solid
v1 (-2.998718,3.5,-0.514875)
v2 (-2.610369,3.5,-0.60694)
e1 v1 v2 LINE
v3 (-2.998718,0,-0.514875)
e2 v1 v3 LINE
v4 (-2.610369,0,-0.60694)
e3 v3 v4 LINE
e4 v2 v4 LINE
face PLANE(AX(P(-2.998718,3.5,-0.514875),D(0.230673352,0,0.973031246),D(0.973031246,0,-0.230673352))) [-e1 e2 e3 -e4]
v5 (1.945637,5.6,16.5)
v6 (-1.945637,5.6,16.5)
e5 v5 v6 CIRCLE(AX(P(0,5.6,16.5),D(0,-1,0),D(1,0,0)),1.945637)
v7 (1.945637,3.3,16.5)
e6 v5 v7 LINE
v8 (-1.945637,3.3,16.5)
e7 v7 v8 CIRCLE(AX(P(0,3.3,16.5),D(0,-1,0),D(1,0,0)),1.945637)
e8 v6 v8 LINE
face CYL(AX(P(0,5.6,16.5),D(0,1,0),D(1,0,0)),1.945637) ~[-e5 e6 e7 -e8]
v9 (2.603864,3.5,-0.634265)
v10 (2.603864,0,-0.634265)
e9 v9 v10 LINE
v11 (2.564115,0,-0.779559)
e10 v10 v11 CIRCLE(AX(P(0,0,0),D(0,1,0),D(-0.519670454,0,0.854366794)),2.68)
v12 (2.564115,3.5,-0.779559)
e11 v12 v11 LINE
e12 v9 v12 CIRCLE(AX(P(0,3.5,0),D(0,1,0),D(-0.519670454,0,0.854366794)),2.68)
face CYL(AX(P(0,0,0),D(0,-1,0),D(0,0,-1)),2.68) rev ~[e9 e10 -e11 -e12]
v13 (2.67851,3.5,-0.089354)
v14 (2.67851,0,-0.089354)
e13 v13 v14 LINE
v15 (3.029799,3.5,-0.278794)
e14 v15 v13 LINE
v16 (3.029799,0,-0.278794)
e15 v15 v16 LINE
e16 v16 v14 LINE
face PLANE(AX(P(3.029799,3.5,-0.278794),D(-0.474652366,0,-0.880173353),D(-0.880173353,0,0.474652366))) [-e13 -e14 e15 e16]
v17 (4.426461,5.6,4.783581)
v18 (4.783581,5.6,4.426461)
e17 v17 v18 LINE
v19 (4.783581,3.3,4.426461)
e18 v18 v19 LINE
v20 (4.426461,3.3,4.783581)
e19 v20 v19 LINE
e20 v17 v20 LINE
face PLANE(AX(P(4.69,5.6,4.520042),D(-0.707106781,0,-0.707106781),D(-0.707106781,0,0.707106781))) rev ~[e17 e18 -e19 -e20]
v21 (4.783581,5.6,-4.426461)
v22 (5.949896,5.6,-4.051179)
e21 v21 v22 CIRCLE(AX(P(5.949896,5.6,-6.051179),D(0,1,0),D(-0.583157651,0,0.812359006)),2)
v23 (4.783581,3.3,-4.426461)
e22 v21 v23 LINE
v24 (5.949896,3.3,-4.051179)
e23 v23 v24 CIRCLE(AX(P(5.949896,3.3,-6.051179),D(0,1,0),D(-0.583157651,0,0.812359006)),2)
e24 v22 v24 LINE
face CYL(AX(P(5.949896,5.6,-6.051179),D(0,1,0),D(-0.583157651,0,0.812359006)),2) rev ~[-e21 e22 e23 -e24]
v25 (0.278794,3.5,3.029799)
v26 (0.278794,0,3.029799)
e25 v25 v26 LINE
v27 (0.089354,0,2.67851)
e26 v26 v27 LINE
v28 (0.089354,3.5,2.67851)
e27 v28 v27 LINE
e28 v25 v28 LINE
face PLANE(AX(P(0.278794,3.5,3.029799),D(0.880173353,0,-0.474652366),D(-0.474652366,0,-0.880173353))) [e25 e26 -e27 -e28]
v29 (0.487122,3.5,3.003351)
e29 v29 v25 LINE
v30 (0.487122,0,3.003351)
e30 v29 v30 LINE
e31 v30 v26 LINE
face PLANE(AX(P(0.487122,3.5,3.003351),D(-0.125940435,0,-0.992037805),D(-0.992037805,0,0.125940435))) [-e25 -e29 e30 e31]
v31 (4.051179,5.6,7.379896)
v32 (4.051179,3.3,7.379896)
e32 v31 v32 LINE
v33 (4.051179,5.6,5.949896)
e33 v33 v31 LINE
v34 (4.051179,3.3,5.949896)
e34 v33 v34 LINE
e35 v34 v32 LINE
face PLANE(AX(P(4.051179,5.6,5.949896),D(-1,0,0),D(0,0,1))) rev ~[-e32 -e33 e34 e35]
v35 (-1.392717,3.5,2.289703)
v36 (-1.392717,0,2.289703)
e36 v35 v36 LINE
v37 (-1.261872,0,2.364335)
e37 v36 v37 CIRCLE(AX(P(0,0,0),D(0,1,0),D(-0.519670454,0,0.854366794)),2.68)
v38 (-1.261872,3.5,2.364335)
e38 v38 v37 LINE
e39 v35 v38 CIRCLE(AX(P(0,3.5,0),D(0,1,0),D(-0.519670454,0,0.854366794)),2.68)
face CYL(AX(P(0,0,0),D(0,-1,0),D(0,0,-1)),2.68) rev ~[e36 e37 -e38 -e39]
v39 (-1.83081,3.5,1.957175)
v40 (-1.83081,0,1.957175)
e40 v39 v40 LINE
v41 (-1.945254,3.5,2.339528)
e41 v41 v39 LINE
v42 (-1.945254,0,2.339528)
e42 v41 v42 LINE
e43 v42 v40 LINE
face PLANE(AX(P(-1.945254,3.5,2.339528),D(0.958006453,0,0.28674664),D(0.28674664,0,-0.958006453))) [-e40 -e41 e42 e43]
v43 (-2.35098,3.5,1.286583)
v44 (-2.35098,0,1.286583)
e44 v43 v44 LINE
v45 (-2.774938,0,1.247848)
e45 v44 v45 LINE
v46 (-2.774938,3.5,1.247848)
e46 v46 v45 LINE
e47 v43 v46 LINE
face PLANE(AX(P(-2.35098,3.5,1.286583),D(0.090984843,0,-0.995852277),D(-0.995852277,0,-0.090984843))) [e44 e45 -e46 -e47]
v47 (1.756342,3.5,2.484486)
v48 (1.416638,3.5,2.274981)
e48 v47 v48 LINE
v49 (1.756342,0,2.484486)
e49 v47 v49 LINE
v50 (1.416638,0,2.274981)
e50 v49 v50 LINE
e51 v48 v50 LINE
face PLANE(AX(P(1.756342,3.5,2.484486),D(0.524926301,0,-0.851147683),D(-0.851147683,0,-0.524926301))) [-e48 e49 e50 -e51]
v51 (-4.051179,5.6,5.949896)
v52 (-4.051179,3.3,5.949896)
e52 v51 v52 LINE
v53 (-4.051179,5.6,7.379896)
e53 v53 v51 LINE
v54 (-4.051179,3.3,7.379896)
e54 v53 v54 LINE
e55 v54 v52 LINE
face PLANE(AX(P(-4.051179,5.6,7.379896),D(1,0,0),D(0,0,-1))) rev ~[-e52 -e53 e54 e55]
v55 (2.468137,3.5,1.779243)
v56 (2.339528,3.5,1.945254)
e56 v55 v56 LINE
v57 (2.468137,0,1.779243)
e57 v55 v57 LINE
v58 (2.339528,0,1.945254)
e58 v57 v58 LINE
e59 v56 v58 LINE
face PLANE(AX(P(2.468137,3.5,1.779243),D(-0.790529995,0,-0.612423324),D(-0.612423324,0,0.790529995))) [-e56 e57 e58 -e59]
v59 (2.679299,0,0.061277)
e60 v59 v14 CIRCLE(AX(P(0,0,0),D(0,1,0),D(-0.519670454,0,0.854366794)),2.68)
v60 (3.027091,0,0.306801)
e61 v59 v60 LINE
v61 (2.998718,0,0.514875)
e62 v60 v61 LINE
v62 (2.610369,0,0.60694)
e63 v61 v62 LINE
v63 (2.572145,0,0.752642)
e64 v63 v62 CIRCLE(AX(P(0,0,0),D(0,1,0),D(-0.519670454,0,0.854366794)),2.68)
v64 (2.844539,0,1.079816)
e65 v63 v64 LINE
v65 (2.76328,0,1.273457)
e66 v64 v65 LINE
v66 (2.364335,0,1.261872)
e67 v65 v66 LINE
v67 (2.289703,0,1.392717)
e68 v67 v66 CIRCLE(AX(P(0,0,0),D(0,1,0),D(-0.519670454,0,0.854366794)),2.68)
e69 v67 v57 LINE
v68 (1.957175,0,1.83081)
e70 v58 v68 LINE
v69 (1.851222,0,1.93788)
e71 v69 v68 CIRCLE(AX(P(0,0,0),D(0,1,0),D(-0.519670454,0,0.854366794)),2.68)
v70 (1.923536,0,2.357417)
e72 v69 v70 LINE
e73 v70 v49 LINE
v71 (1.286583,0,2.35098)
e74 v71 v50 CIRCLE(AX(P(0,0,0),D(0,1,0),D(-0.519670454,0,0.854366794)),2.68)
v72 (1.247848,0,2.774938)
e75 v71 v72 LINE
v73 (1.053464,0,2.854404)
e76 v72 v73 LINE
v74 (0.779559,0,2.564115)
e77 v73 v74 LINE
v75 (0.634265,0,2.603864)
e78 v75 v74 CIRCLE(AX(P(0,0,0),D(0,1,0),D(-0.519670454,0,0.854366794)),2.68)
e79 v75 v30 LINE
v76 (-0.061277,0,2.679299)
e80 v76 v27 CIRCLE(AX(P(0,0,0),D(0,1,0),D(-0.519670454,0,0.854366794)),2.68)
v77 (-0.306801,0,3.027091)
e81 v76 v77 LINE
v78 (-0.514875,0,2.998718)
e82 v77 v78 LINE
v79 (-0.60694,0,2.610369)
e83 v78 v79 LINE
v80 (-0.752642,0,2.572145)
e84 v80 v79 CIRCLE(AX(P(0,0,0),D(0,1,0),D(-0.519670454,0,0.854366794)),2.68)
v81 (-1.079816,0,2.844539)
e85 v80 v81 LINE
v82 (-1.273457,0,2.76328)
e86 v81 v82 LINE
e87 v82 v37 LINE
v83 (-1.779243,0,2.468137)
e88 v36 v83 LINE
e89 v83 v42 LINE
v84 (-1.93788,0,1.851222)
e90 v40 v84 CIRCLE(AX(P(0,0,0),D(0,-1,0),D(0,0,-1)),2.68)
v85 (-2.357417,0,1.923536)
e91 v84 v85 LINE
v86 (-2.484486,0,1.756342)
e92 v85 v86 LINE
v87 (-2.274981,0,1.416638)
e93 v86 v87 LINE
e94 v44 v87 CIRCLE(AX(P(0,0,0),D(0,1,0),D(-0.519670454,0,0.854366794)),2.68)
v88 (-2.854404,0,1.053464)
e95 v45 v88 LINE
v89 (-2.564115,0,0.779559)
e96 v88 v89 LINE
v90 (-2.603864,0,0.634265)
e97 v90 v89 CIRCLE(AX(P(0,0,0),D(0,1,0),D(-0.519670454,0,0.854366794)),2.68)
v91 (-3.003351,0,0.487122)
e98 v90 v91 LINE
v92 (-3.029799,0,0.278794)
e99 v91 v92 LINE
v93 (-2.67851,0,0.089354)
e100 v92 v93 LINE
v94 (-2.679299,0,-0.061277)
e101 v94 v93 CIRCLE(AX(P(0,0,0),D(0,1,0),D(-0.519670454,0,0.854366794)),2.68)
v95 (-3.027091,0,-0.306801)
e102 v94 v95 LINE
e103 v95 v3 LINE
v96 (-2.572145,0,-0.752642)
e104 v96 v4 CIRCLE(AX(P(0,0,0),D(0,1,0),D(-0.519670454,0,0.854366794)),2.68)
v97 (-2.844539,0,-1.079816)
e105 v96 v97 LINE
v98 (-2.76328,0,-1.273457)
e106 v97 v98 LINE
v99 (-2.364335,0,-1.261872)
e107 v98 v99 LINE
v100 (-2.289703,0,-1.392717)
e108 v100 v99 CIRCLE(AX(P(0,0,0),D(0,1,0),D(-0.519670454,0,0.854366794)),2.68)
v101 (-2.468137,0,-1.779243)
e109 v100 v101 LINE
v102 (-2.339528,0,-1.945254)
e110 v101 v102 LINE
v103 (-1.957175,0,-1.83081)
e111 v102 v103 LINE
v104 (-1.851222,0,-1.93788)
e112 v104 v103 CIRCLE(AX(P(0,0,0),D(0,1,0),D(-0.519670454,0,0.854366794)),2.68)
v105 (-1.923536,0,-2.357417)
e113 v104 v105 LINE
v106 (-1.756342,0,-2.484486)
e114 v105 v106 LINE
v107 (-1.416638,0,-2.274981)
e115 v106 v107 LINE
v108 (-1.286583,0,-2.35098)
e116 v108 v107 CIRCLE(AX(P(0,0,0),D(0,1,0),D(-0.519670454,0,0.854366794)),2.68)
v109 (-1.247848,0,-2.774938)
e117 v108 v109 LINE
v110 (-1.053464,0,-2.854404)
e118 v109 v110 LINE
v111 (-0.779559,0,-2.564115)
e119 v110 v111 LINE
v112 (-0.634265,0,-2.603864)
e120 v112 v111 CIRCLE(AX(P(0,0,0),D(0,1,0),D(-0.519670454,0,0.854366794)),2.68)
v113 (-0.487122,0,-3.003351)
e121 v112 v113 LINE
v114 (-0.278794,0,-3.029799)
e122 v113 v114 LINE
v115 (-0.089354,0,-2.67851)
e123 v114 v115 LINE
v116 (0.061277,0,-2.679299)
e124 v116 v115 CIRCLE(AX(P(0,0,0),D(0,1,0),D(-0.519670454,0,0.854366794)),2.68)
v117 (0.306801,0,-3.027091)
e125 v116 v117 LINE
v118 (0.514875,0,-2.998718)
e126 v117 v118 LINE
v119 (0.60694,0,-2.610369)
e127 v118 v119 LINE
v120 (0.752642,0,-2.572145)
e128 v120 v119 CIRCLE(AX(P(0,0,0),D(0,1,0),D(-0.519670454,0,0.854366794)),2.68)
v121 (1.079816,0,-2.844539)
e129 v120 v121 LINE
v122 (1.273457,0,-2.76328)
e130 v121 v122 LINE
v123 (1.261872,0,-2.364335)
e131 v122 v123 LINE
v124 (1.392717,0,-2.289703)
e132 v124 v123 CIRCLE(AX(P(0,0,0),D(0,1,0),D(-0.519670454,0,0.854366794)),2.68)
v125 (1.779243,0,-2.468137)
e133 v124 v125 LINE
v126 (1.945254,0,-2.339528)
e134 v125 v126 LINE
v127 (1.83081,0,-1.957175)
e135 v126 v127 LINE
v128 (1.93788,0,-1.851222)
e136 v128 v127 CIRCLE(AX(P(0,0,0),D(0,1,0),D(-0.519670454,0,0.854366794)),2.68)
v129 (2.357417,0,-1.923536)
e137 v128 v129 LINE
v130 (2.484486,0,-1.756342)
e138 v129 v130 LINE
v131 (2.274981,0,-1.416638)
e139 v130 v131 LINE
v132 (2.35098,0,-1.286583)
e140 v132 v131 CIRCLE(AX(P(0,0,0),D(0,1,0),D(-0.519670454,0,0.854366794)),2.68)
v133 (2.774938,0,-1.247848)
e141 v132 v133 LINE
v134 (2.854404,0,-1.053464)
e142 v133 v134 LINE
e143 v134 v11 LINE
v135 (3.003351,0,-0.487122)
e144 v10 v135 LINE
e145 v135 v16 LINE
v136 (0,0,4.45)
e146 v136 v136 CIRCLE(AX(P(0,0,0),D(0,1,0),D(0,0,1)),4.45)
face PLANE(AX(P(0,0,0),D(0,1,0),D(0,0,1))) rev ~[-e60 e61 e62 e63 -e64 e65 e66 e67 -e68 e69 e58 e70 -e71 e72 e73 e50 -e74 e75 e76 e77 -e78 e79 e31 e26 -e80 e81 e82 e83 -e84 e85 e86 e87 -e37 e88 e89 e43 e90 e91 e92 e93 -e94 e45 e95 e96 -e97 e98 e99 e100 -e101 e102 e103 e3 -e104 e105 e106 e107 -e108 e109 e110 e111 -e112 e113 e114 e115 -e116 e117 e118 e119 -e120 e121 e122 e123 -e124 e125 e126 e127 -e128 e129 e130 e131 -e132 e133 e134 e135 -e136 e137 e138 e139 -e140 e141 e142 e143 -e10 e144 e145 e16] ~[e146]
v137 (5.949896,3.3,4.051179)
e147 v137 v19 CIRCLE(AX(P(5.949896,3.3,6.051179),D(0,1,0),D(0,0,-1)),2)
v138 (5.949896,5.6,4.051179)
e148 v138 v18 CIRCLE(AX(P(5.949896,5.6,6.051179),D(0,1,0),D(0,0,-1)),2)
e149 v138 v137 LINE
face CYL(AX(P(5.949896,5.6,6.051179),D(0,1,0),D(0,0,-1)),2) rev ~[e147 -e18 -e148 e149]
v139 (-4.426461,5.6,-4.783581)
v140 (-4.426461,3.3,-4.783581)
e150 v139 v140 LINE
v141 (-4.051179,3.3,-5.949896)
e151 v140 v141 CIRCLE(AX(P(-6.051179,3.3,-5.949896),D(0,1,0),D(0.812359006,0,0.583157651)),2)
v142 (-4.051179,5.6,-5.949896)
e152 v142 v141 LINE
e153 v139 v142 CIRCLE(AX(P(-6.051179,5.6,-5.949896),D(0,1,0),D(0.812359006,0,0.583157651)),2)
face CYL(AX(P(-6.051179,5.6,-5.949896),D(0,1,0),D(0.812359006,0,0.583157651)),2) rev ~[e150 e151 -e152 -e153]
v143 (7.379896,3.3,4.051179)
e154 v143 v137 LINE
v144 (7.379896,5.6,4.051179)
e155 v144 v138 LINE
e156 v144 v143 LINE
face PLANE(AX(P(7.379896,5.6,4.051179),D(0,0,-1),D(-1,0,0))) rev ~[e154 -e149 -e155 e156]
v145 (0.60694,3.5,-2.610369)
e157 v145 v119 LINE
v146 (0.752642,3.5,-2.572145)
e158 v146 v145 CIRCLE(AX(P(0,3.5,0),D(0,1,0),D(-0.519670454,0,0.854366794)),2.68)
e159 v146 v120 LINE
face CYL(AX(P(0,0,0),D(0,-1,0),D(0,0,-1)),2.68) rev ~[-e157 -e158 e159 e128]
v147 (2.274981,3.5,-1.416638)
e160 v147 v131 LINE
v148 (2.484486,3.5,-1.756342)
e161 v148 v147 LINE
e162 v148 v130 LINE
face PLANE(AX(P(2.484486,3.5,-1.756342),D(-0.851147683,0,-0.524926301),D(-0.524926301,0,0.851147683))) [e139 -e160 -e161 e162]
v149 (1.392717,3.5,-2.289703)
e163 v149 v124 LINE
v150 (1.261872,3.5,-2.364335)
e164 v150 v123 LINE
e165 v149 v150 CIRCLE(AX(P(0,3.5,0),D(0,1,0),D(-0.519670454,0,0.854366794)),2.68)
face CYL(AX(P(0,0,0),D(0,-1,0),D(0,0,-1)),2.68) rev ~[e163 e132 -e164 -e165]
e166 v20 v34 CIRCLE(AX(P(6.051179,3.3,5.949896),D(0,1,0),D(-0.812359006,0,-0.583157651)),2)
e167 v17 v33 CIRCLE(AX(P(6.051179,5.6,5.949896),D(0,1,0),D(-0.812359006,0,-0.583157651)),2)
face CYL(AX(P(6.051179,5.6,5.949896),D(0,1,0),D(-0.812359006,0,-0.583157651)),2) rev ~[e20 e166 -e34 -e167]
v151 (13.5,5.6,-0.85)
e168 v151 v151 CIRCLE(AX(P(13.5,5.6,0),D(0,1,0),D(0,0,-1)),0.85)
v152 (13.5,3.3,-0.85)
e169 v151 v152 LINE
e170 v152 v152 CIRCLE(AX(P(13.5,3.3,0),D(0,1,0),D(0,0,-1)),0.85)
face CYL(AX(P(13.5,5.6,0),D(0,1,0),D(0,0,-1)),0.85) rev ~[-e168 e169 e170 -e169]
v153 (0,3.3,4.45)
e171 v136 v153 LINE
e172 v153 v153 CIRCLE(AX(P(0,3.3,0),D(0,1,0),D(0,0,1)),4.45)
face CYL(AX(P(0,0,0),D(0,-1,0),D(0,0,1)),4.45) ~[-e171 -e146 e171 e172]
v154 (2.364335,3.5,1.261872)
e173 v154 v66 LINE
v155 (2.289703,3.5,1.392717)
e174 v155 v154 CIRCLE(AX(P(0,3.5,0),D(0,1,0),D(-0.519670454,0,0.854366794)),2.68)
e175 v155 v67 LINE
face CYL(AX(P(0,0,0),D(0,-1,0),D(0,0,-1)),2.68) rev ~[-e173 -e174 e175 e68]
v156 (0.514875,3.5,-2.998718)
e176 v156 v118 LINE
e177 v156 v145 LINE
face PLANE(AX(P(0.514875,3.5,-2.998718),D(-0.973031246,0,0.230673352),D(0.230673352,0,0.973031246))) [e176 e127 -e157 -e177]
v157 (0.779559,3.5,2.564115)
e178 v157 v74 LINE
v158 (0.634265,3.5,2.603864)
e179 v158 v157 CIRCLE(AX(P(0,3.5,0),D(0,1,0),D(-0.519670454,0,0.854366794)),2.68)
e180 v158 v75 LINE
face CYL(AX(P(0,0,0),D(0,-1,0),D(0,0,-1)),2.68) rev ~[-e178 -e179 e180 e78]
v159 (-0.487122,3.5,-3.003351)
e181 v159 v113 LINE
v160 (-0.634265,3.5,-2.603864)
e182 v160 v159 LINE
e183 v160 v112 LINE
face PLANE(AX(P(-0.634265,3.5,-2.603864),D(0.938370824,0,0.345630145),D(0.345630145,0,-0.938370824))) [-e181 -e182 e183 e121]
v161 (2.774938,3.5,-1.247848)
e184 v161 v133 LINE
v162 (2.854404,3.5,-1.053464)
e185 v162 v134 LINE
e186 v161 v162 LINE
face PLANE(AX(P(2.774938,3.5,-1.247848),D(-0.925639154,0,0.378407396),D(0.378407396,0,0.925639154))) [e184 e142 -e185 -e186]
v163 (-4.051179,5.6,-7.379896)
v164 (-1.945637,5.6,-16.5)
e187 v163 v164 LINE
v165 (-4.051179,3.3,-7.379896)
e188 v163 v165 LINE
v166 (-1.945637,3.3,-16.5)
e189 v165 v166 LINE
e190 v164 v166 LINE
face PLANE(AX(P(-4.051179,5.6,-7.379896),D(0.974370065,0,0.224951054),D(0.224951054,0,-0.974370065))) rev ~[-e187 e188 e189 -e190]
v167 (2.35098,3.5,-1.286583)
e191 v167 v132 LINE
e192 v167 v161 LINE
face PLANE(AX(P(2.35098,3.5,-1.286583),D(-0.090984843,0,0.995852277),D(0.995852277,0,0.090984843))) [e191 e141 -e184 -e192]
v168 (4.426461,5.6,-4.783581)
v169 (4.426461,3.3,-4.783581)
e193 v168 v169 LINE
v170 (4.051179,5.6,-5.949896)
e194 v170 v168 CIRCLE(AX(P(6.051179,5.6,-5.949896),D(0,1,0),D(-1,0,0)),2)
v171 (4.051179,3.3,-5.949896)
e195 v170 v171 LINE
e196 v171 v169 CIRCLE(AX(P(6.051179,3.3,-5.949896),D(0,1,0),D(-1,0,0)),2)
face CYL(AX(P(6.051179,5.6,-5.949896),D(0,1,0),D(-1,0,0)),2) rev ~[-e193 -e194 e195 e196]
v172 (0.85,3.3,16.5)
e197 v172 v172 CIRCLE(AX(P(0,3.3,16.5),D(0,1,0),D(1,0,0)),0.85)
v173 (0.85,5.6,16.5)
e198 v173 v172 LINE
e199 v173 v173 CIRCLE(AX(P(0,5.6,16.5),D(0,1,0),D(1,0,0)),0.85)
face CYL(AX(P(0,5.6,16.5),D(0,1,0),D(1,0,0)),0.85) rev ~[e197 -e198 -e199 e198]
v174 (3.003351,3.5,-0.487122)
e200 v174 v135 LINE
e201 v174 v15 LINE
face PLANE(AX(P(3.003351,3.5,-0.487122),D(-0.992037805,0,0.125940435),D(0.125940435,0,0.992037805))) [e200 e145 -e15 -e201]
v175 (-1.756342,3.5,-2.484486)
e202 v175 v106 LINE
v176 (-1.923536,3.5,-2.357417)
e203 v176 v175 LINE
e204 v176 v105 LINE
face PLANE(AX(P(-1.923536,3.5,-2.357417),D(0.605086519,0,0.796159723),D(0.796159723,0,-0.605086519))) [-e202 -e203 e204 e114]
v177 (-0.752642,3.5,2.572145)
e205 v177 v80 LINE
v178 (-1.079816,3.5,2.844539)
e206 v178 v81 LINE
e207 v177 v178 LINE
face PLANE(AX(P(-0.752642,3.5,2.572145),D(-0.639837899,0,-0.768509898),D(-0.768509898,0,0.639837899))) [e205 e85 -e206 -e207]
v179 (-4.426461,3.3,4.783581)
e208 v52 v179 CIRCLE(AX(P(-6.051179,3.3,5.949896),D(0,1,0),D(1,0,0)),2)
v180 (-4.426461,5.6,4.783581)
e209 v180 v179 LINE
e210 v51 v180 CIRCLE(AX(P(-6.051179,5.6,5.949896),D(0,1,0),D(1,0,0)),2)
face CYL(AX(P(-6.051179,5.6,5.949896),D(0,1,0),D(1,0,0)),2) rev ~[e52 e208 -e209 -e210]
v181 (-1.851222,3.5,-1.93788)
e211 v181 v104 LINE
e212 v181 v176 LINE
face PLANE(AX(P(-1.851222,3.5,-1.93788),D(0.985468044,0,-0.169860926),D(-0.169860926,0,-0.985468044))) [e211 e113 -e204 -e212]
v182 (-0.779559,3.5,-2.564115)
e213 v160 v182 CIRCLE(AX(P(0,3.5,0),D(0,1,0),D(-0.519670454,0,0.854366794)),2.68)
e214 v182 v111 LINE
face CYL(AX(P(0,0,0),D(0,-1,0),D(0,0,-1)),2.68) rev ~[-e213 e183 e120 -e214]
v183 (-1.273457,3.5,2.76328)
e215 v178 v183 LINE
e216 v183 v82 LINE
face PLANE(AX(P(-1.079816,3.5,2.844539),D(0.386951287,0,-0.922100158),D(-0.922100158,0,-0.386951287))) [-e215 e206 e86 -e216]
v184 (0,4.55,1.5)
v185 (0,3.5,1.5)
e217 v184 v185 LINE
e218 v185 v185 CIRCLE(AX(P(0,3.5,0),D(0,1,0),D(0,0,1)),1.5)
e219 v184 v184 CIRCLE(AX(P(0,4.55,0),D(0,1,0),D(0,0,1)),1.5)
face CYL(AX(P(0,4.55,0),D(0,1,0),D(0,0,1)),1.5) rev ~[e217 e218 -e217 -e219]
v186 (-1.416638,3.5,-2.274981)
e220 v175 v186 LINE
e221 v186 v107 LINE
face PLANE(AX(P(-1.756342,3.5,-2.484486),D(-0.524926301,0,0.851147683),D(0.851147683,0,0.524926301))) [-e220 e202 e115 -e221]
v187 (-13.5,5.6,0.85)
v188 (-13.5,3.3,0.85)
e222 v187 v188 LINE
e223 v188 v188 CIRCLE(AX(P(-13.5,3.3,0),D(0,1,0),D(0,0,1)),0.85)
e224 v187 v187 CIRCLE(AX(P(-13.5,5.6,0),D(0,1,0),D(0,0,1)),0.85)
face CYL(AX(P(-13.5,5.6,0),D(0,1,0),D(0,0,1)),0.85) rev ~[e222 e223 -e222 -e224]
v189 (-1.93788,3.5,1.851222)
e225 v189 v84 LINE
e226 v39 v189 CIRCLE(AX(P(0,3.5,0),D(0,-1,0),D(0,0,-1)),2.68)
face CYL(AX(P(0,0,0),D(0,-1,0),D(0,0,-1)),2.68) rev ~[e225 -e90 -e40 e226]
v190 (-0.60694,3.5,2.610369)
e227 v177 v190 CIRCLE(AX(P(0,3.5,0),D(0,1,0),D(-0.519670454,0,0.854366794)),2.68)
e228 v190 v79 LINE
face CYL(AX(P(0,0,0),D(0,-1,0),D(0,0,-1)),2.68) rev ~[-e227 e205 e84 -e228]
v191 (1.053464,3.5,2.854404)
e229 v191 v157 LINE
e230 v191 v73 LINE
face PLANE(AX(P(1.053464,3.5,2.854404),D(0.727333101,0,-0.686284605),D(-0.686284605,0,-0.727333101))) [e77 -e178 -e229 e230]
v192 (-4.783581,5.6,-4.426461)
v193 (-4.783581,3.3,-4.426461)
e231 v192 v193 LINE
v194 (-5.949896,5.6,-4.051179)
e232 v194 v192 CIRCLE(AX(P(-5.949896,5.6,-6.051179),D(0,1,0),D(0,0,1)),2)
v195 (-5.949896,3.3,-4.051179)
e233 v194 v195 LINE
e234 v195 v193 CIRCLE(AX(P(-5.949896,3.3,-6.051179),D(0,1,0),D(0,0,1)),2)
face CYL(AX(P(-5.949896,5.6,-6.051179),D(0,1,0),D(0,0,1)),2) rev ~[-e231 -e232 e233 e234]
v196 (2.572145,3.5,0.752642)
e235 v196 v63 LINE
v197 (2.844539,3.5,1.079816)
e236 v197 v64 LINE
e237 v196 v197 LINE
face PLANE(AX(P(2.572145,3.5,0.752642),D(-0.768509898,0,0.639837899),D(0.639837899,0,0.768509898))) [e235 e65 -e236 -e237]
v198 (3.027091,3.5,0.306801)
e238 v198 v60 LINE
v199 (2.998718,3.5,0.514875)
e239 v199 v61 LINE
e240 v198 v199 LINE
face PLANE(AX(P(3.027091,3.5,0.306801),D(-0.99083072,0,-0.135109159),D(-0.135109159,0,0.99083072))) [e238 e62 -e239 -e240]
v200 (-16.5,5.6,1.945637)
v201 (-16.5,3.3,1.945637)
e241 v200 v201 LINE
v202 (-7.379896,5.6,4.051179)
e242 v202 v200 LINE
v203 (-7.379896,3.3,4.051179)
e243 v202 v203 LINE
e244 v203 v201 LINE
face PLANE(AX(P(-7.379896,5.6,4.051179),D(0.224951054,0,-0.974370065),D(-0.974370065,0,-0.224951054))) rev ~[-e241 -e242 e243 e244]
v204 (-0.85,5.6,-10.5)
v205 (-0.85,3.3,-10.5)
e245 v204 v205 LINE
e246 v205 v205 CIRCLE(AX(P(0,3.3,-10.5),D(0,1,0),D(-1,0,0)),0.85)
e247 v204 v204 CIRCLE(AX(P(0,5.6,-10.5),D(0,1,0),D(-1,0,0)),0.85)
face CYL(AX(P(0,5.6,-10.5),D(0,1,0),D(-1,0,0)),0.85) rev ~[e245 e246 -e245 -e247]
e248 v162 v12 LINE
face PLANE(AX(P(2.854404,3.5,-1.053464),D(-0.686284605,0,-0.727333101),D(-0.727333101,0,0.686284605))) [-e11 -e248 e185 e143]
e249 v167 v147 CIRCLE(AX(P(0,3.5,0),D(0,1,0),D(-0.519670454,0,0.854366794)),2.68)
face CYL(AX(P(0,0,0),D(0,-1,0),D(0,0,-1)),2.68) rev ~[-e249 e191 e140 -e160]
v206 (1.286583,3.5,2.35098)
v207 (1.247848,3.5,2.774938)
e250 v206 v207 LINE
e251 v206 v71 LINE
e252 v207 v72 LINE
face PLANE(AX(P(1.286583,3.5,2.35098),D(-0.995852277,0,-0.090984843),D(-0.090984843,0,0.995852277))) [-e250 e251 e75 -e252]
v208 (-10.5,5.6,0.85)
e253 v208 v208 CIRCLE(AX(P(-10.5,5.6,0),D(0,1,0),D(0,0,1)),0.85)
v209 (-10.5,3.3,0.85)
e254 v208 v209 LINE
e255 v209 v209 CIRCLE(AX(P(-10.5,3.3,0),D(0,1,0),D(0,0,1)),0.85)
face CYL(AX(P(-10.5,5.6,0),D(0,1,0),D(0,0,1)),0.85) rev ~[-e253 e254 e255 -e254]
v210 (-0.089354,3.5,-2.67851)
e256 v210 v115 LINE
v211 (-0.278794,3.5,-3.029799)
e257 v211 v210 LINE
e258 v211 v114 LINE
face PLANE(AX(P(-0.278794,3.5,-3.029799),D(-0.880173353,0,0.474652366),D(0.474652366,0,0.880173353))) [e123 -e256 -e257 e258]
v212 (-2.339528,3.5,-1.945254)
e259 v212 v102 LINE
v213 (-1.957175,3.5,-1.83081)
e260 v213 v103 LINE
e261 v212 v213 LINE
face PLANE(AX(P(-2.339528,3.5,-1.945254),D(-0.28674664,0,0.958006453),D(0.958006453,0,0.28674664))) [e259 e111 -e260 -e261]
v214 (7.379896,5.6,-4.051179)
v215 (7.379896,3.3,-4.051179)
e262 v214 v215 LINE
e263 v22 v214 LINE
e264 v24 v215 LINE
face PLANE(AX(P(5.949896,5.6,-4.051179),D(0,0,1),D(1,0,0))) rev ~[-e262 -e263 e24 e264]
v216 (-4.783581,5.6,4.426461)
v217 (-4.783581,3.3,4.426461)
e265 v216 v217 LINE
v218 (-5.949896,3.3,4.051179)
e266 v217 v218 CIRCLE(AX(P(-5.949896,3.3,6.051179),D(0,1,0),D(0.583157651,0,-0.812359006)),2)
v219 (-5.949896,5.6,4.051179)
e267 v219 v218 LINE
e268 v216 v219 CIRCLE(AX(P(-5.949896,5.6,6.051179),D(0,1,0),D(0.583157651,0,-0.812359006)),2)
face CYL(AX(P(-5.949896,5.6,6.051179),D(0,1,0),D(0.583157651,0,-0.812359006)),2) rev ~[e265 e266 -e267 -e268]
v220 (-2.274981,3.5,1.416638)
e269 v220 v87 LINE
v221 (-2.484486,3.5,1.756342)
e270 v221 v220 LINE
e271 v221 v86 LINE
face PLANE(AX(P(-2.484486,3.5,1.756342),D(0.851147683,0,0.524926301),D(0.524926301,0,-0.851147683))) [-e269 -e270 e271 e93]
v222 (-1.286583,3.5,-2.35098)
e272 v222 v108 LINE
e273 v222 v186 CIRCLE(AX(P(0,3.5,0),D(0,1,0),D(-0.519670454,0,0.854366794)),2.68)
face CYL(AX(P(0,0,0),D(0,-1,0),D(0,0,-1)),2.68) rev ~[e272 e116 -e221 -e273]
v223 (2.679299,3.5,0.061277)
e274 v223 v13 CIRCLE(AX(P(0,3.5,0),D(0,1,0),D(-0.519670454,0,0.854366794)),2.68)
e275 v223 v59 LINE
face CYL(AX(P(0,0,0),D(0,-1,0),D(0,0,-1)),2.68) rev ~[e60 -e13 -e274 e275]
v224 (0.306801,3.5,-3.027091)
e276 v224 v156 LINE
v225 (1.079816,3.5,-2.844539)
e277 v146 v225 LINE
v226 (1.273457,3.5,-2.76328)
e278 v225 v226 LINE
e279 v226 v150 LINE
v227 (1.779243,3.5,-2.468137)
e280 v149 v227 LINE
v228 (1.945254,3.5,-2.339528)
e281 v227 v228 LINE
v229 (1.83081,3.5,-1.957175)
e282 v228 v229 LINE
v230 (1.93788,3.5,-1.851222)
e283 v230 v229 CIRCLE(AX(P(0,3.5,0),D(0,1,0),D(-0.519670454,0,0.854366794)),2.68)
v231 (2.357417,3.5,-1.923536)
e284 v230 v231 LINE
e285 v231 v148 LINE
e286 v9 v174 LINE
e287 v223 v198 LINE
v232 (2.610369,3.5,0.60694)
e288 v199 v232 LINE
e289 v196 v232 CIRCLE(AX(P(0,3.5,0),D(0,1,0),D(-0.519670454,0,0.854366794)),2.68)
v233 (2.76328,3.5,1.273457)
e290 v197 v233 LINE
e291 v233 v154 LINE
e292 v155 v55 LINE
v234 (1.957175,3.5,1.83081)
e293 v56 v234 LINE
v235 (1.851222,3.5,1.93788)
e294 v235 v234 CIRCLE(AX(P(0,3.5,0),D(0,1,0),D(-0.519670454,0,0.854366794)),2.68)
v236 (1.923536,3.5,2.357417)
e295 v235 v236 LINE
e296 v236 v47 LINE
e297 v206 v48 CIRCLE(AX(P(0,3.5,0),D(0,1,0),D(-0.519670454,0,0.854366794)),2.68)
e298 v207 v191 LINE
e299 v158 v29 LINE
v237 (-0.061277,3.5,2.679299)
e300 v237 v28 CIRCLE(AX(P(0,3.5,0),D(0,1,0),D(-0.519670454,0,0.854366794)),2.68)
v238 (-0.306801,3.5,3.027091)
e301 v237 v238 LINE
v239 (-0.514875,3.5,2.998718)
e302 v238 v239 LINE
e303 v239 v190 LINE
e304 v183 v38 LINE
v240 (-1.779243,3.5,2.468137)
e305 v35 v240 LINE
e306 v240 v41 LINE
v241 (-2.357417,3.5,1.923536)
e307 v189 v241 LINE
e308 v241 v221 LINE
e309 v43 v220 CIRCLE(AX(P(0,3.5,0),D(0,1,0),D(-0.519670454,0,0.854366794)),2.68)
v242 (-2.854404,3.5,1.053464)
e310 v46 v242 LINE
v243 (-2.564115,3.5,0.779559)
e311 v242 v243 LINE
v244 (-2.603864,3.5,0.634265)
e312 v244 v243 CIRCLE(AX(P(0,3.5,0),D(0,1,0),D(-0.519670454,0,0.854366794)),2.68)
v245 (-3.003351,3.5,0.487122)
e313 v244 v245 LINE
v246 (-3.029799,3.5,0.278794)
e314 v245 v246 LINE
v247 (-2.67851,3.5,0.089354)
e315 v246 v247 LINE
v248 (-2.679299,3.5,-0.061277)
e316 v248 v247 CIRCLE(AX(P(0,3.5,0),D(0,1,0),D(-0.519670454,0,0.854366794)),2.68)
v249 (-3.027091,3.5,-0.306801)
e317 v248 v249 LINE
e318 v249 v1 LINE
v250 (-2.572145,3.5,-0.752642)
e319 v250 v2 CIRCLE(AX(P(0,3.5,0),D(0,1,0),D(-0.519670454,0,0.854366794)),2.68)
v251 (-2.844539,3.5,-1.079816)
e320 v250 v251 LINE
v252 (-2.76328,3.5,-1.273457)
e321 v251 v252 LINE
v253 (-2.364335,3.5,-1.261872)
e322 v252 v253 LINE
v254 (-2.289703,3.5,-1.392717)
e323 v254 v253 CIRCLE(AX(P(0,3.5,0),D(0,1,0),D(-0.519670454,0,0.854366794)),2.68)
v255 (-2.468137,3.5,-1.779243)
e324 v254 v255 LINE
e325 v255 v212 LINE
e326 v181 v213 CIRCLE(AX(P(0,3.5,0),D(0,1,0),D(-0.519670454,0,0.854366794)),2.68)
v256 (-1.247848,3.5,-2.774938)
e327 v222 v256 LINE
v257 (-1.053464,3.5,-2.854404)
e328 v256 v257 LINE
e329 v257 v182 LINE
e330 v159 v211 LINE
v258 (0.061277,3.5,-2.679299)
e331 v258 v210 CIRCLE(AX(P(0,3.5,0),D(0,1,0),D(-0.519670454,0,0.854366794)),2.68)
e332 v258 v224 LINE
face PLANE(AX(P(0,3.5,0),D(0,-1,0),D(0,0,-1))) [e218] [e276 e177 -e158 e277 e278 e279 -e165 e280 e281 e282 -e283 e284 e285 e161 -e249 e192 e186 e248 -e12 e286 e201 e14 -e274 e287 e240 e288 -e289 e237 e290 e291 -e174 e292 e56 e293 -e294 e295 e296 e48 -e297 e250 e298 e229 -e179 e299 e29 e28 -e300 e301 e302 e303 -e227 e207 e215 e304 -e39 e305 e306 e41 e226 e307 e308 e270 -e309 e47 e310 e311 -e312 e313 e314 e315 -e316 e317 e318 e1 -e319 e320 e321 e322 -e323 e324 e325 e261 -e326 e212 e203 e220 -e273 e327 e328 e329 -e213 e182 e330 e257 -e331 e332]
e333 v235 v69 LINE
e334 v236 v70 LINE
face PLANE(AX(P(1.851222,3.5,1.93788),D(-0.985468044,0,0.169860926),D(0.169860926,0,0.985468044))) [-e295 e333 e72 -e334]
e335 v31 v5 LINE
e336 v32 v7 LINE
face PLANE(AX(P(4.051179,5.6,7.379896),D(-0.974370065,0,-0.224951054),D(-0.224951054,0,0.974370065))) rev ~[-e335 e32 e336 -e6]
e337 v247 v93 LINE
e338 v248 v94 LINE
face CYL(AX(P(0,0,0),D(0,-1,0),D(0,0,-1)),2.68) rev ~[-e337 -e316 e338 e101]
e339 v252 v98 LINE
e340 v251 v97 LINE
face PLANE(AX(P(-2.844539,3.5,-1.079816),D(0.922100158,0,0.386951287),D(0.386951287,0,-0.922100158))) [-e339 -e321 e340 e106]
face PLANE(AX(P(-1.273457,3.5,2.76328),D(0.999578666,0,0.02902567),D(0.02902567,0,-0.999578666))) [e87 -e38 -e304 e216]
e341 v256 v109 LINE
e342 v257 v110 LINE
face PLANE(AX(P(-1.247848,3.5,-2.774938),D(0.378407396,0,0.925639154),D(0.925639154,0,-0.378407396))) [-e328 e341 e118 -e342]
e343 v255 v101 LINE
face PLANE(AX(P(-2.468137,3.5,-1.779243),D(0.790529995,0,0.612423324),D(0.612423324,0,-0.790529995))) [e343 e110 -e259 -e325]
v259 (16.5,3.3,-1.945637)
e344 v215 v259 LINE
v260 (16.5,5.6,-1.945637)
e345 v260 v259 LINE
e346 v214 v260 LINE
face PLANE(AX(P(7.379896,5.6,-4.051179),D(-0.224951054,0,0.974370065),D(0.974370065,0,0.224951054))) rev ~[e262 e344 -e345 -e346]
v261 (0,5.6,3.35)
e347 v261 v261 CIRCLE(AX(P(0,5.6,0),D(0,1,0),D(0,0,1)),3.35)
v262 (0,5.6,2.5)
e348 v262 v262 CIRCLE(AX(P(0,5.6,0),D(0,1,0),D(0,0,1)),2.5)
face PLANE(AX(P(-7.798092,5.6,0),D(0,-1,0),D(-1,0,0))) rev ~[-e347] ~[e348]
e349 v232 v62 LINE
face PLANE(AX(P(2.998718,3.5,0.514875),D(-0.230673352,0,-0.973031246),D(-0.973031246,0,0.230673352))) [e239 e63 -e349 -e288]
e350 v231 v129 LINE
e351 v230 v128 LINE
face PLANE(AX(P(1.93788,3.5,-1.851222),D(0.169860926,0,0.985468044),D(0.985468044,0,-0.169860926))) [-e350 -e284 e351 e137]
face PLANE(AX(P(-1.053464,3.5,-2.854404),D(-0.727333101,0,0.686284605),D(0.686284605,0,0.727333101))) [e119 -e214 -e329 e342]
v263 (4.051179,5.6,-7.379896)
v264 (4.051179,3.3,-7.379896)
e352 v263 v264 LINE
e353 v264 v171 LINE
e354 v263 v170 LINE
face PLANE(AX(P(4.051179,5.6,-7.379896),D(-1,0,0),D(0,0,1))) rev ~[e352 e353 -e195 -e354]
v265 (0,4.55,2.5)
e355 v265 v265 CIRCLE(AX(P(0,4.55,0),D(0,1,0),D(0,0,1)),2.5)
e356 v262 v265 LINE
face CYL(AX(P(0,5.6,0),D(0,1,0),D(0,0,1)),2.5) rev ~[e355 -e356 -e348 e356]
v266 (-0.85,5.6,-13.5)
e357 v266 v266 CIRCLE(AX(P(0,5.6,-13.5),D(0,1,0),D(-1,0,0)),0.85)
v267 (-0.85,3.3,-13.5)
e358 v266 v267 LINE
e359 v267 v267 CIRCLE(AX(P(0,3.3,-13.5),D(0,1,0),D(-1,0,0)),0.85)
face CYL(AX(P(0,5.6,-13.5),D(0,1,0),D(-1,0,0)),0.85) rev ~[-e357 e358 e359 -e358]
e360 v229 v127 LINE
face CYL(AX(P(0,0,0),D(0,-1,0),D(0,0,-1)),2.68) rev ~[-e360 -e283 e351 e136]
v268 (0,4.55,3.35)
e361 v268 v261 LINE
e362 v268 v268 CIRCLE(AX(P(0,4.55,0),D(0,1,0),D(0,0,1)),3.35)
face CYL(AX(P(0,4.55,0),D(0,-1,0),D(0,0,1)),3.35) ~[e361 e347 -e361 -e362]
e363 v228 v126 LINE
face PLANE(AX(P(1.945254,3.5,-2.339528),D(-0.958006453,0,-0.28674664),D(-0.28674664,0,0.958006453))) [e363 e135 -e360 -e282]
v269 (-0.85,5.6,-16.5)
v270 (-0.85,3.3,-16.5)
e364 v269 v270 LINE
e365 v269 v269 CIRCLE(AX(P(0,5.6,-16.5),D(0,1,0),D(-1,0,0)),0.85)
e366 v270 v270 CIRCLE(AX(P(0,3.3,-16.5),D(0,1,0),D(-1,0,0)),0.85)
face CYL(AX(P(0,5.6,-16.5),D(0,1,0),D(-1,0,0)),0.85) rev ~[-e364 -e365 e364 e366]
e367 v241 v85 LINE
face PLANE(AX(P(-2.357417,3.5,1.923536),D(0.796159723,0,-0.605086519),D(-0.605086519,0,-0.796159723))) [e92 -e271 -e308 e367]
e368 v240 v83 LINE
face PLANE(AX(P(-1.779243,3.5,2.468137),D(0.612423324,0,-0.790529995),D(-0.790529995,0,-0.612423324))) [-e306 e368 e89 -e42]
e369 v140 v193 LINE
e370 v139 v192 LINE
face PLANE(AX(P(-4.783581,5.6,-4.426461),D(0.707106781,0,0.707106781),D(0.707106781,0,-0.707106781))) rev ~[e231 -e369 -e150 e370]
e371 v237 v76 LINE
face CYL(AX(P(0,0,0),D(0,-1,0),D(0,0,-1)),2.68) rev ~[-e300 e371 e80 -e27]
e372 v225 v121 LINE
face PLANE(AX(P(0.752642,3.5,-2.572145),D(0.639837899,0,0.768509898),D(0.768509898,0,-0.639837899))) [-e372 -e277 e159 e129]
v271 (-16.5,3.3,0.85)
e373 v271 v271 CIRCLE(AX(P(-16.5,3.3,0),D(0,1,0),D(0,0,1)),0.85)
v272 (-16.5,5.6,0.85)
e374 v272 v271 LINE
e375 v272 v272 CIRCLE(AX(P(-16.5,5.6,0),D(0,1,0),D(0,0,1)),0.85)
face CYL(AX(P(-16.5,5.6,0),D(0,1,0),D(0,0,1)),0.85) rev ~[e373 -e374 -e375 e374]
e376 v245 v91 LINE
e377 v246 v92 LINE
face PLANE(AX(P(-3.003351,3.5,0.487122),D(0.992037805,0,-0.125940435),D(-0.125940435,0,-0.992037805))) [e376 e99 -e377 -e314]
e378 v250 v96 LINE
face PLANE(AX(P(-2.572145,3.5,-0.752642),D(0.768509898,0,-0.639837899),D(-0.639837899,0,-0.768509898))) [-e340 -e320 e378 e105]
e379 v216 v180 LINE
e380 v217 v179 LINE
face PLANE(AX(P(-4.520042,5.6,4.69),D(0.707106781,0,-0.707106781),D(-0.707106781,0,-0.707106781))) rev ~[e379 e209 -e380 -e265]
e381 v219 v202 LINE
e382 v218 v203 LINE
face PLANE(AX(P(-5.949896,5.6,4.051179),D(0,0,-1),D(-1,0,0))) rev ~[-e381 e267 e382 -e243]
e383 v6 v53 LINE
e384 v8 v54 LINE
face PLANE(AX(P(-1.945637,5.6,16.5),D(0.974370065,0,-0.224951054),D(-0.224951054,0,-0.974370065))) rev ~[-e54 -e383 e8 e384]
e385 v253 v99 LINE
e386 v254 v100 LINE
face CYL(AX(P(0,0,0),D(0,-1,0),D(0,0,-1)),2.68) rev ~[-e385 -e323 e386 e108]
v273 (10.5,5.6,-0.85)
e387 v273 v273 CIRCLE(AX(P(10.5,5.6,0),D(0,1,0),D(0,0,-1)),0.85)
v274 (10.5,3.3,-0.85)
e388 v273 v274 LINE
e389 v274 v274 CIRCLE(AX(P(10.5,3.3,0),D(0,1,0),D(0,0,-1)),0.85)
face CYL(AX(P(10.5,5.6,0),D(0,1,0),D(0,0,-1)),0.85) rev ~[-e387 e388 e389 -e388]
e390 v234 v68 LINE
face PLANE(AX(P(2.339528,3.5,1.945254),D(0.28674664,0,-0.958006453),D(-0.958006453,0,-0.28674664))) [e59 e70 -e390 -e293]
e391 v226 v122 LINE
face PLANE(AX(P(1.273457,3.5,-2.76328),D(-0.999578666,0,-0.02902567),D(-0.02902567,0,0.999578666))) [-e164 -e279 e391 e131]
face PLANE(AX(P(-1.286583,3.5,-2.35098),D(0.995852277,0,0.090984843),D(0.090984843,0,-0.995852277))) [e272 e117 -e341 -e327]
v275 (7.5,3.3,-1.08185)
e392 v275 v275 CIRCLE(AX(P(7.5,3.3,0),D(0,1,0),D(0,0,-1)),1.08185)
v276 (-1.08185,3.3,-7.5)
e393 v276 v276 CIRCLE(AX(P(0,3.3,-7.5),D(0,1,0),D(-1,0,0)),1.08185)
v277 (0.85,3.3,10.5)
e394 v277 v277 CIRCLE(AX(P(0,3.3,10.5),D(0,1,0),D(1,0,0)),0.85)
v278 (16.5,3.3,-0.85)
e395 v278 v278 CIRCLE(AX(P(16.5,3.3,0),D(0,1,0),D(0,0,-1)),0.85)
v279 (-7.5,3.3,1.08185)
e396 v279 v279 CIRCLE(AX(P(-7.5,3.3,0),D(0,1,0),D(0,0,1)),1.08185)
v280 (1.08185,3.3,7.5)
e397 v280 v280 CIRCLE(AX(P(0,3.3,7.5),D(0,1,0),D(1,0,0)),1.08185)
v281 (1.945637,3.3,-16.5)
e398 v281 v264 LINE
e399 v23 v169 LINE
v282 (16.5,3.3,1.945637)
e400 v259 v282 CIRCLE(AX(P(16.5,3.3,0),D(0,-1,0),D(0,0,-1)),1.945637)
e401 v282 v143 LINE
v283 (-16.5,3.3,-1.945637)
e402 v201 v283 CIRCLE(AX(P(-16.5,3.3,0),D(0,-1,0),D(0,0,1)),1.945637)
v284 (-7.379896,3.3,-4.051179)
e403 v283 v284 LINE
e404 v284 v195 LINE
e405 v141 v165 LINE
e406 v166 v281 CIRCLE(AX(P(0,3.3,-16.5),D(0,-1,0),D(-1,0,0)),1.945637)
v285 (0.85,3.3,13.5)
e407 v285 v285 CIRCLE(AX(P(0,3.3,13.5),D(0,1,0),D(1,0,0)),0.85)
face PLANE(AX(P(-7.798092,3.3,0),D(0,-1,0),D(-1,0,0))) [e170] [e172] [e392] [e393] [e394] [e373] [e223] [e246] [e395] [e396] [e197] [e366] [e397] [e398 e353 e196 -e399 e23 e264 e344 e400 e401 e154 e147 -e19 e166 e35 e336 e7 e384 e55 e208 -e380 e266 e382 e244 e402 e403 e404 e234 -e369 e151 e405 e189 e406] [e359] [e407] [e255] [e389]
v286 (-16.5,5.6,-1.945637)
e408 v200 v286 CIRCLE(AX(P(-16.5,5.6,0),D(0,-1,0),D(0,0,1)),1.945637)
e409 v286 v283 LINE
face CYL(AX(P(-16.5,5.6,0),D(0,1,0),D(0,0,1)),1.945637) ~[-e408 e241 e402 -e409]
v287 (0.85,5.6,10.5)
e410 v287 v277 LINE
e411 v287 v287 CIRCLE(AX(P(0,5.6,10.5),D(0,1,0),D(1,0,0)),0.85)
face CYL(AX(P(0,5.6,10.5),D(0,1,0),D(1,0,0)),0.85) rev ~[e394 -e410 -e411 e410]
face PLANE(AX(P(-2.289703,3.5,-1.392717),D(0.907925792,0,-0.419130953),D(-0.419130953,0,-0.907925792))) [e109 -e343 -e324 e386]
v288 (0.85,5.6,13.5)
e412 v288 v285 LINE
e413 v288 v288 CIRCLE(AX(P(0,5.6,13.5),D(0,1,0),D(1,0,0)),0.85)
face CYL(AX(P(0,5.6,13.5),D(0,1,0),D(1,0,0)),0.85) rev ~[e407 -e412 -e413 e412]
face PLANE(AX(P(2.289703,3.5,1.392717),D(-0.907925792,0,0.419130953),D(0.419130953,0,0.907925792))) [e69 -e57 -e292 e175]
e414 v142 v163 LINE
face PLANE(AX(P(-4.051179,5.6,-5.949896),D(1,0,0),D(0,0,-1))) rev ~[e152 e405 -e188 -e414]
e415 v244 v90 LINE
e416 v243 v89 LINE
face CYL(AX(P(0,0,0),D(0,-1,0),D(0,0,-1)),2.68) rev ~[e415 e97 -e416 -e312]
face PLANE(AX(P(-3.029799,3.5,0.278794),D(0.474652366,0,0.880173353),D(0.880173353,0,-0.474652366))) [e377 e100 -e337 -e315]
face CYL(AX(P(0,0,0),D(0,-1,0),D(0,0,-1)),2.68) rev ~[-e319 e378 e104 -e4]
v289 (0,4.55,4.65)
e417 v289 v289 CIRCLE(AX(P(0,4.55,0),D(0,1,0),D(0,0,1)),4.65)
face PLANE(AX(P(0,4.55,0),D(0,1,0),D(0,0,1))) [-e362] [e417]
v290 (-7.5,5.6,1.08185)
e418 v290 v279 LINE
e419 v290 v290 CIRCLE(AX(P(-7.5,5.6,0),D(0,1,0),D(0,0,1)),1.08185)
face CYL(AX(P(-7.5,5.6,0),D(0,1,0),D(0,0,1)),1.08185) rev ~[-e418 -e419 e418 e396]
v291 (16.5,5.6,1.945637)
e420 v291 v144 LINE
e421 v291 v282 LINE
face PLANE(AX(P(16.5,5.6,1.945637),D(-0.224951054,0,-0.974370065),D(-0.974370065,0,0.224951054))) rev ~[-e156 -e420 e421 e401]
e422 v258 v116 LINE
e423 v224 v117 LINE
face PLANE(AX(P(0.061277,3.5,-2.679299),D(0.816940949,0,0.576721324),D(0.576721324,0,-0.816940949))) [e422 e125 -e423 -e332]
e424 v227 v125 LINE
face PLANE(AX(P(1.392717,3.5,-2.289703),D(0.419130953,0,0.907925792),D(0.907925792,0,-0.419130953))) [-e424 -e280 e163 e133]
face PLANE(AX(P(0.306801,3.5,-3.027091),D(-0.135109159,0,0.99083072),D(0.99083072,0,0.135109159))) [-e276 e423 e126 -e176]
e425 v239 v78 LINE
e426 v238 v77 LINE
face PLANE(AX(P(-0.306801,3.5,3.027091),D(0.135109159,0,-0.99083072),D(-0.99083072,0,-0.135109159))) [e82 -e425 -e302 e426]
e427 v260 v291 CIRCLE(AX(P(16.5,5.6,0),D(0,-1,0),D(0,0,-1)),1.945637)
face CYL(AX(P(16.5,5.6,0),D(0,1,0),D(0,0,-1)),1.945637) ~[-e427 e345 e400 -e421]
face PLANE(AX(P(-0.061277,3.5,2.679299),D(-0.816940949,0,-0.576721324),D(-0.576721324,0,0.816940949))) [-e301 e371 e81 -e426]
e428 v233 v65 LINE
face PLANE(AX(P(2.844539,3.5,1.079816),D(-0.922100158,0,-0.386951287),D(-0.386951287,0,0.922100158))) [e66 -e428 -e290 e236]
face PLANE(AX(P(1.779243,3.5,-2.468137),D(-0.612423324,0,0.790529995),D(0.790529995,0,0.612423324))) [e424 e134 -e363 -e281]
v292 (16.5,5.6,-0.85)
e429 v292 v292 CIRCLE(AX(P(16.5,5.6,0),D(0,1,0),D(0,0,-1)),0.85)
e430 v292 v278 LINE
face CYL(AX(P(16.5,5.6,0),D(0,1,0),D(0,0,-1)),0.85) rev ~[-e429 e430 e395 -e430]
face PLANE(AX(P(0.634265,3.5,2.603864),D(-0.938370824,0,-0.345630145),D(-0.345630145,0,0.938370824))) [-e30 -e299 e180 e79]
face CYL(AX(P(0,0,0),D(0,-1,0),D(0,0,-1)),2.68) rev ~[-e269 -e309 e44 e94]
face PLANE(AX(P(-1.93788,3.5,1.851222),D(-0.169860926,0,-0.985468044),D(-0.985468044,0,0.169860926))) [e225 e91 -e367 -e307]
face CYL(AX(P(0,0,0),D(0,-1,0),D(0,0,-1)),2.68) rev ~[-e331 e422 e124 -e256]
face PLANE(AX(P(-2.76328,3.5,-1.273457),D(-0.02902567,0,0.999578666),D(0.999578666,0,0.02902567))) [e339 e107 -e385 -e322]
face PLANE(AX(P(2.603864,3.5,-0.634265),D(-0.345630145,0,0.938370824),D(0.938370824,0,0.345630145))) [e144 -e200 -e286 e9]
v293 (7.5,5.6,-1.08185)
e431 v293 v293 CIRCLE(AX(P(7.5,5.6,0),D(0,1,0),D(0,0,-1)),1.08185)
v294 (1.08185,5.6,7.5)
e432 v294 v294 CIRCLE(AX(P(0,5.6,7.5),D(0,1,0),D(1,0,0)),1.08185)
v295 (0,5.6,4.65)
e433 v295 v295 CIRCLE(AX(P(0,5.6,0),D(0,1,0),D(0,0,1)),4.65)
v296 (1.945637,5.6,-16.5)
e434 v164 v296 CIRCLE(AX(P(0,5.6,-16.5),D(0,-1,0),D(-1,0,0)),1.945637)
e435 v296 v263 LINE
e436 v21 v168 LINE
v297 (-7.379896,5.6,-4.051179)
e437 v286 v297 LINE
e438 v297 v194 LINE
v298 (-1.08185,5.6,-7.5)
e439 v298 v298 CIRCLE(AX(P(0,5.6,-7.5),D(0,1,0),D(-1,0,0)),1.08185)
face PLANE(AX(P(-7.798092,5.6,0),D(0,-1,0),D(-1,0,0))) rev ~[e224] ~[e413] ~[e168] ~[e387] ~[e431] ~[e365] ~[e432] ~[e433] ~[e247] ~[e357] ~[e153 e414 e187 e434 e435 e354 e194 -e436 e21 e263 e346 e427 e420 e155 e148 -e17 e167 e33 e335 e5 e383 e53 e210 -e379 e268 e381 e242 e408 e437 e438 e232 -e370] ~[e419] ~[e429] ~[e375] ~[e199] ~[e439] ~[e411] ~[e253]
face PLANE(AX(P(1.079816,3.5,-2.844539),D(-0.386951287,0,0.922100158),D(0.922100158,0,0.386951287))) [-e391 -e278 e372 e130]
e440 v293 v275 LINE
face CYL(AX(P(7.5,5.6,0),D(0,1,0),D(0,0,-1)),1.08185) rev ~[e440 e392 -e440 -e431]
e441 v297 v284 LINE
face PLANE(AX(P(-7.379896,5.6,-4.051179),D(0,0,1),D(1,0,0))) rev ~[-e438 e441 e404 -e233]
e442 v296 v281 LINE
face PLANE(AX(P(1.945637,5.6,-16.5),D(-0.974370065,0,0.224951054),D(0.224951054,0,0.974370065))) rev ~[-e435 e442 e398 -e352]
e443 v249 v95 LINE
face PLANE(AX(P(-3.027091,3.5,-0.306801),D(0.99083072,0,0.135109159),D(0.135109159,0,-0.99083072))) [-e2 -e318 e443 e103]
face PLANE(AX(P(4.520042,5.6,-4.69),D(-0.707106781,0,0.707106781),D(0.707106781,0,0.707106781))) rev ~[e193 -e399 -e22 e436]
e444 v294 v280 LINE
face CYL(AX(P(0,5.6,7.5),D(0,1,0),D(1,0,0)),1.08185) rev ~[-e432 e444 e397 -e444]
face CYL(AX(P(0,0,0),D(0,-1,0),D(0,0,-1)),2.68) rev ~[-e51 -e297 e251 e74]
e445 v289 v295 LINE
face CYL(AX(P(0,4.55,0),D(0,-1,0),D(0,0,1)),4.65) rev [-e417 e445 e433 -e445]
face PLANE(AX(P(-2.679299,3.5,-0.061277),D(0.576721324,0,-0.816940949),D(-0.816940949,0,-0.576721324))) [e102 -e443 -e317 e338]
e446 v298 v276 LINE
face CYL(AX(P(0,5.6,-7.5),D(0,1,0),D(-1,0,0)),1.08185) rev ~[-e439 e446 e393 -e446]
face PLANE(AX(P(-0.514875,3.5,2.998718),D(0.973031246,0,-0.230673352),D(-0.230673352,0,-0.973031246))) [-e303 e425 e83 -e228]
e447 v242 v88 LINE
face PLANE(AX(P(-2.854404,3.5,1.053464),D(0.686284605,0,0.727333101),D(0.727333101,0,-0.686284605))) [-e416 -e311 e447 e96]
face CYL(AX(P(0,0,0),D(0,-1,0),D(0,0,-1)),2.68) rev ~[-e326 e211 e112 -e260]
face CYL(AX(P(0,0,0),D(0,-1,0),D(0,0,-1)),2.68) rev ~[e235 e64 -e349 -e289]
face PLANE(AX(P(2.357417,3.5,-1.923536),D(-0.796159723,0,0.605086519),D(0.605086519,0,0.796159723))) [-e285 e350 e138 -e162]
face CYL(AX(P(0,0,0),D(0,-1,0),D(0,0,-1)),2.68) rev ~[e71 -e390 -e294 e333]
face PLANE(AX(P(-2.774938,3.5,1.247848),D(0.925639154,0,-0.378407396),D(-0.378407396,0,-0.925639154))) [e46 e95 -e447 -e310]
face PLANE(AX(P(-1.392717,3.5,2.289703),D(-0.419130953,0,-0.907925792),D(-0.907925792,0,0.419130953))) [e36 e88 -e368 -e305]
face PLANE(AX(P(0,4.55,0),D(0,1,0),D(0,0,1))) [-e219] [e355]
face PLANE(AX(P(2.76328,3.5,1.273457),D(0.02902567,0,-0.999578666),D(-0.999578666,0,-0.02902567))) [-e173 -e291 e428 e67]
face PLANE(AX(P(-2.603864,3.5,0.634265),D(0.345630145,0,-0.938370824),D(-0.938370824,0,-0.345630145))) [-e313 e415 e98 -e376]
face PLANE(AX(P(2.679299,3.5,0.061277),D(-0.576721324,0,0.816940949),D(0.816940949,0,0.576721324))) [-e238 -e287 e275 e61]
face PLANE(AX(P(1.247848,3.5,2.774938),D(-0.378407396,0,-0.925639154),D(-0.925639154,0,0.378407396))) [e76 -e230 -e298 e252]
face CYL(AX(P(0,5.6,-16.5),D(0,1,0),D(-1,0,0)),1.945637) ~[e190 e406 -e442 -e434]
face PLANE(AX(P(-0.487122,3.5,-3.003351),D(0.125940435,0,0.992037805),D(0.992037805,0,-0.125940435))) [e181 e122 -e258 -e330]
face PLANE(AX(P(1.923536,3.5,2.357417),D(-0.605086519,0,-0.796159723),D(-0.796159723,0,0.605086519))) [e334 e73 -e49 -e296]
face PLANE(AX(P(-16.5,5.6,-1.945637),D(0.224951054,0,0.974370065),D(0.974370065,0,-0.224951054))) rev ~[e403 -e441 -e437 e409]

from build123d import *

# Parameters (mm, degrees)
IZIM1_R                     = 4.45
Y_KSEKLIK_EKSTR_ZYON1_DEPTH = 5.6
IZIM2_R                     = 0.85
IZIM2_R_2                   = 1.08184978
Y_KSEKLIK_EKSTR_ZYON2_DEPTH = 2.3
DAIRESEL_KAPLAMA1_COUNT     = 4
IZIM3_R                     = 2.5
KES_EKSTR_ZYON1_DEPTH       = 1.05
IZIM4_R                     = 4.65
IZIM4_R_2                   = 3.35
KES_EKSTR_ZYON2_DEPTH       = 1.05
IZIM5_R                     = 1.5
KES_EKSTR_ZYON3_DEPTH       = 7.05
IZIM6_R                     = 2.68
KES_EKSTR_ZYON4_DEPTH       = 3.5
KES_EKSTR_ZYON5_DEPTH       = 3.5
DAIRESEL_KAPLAMA2_COUNT     = 24


with BuildPart() as part:
    # Çizim1 → Yükseklik-Ekstrüzyon1 (new body)
    with BuildSketch(Plane(origin=(0, 0, 0), x_dir=(1, 0, 0), z_dir=(0, 1, 0))):
        with Locations(Location((0, 0, 0), (0, 0, 270))):
            Circle(IZIM1_R)
    extrude(amount=Y_KSEKLIK_EKSTR_ZYON1_DEPTH)

    # Çizim2 → Yükseklik-Ekstrüzyon2 (add)
    with BuildSketch(Plane(origin=(0, 5.6, 0), x_dir=(1, 0, 0), z_dir=(0, 1, 0))):
        with BuildLine():
            Line((0, 4.69), (0, -4.69))
            Line((0, -4.69), (-4.520042194, -4.69))
            Line((-4.520042194, -4.69), (-4.783580891, -4.426461303))
            ThreePointArc((-4.783580891, -4.426461303), (-5.337293558, -4.147310093), (-5.949896194, -4.051179314))
            Line((-5.949896194, -4.051179314), (-7.379896194, -4.051179314))
            Line((-7.379896194, -4.051179314), (-16.5, -1.945637445))
            ThreePointArc((-16.5, -1.945637445), (-18.445637445, 0), (-16.5, 1.945637445))
            Line((-16.5, 1.945637445), (-7.379896194, 4.051179314))
            Line((-7.379896194, 4.051179314), (-5.949896194, 4.051179314))
            ThreePointArc((-5.949896194, 4.051179314), (-5.337293558, 4.147310093), (-4.783580891, 4.426461303))
            Line((-4.783580891, 4.426461303), (-4.520042194, 4.69))
            Line((-4.520042194, 4.69), (0, 4.69))
        make_face()
        with Locations(Location((-16.5, 0, 0), (0, 0, 270))):
            Circle(IZIM2_R, mode=Mode.SUBTRACT)
        with Locations(Location((-13.5, 0, 0), (0, 0, 270))):
            Circle(IZIM2_R, mode=Mode.SUBTRACT)
        with Locations(Location((-10.5, 0, 0), (0, 0, 270))):
            Circle(IZIM2_R, mode=Mode.SUBTRACT)
        with Locations(Location((-7.5, 0, 0), (0, 0, 270))):
            Circle(IZIM2_R_2, mode=Mode.SUBTRACT)
    y_kseklik_ekstr_zyon2 = extrude(amount=-Y_KSEKLIK_EKSTR_ZYON2_DEPTH)

    # Dairesel Kaplama1: Yükseklik-Ekstrüzyon2 ×4 about axis
    dairesel_kaplama1_axis = Axis((0, 0, 0), (0, 1, 0))
    for i in range(1, DAIRESEL_KAPLAMA1_COUNT):
        add(y_kseklik_ekstr_zyon2.rotate(dairesel_kaplama1_axis, i * 360 / DAIRESEL_KAPLAMA1_COUNT))

    # Çizim3 → Kes-Ekstrüzyon1 (cut)
    with BuildSketch(Plane(origin=(0, 5.6, 0), x_dir=(1, 0, 0), z_dir=(0, 1, 0))):
        with Locations(Location((0, 0, 0), (0, 0, 270))):
            Circle(IZIM3_R)
    extrude(amount=-KES_EKSTR_ZYON1_DEPTH, mode=Mode.SUBTRACT)

    # Çizim4 → Kes-Ekstrüzyon2 (cut)
    with BuildSketch(Plane(origin=(0, 4.55, 0), x_dir=(1, 0, 0), z_dir=(0, 1, 0))):
        with Locations(Location((0, 0, 0), (0, 0, 270))):
            Circle(IZIM4_R)
        with Locations(Location((0, 0, 0), (0, 0, 270))):
            Circle(IZIM4_R_2, mode=Mode.SUBTRACT)
    extrude(amount=KES_EKSTR_ZYON2_DEPTH, mode=Mode.SUBTRACT)

    # Çizim5 → Kes-Ekstrüzyon3 (cut)
    with BuildSketch(Plane(origin=(0, 4.55, 0), x_dir=(1, 0, 0), z_dir=(0, 1, 0))):
        with Locations(Location((0, 0, 0), (0, 0, 270))):
            Circle(IZIM5_R)
    extrude(amount=-KES_EKSTR_ZYON3_DEPTH, mode=Mode.SUBTRACT)

    # Çizim6 → Kes-Ekstrüzyon4 (cut)
    with BuildSketch(Plane.XZ):
        with Locations(Location((0, 0, 0), (0, 0, 270))):
            Circle(IZIM6_R)
    extrude(amount=-KES_EKSTR_ZYON4_DEPTH, mode=Mode.SUBTRACT)

    # Çizim7 → Kes-Ekstrüzyon5 (cut)
    with BuildSketch(Plane.XZ.offset(-3.5)):
        with BuildLine():
            Line((-2.357417444, 1.923535533), (-2.484485613, 1.756341991))
            Line((-2.484485613, 1.756341991), (-2.274980692, 1.416637869))
            ThreePointArc((-2.274980692, 1.416637869), (-2.117608163, 1.642600277), (-1.937879889, 1.851221633))
            Line((-1.937879889, 1.851221633), (-2.357417444, 1.923535533))
        make_face()
    kes_ekstr_zyon5 = extrude(amount=KES_EKSTR_ZYON5_DEPTH, mode=Mode.SUBTRACT)

    # Dairesel Kaplama2: Kes-Ekstrüzyon5 ×24 about axis
    dairesel_kaplama2_axis = Axis((0, 0, 0), (0, 1, 0))
    for i in range(1, DAIRESEL_KAPLAMA2_COUNT):
        add(kes_ekstr_zyon5.rotate(dairesel_kaplama2_axis, i * 360 / DAIRESEL_KAPLAMA2_COUNT), mode=Mode.SUBTRACT)


solid = part.part
